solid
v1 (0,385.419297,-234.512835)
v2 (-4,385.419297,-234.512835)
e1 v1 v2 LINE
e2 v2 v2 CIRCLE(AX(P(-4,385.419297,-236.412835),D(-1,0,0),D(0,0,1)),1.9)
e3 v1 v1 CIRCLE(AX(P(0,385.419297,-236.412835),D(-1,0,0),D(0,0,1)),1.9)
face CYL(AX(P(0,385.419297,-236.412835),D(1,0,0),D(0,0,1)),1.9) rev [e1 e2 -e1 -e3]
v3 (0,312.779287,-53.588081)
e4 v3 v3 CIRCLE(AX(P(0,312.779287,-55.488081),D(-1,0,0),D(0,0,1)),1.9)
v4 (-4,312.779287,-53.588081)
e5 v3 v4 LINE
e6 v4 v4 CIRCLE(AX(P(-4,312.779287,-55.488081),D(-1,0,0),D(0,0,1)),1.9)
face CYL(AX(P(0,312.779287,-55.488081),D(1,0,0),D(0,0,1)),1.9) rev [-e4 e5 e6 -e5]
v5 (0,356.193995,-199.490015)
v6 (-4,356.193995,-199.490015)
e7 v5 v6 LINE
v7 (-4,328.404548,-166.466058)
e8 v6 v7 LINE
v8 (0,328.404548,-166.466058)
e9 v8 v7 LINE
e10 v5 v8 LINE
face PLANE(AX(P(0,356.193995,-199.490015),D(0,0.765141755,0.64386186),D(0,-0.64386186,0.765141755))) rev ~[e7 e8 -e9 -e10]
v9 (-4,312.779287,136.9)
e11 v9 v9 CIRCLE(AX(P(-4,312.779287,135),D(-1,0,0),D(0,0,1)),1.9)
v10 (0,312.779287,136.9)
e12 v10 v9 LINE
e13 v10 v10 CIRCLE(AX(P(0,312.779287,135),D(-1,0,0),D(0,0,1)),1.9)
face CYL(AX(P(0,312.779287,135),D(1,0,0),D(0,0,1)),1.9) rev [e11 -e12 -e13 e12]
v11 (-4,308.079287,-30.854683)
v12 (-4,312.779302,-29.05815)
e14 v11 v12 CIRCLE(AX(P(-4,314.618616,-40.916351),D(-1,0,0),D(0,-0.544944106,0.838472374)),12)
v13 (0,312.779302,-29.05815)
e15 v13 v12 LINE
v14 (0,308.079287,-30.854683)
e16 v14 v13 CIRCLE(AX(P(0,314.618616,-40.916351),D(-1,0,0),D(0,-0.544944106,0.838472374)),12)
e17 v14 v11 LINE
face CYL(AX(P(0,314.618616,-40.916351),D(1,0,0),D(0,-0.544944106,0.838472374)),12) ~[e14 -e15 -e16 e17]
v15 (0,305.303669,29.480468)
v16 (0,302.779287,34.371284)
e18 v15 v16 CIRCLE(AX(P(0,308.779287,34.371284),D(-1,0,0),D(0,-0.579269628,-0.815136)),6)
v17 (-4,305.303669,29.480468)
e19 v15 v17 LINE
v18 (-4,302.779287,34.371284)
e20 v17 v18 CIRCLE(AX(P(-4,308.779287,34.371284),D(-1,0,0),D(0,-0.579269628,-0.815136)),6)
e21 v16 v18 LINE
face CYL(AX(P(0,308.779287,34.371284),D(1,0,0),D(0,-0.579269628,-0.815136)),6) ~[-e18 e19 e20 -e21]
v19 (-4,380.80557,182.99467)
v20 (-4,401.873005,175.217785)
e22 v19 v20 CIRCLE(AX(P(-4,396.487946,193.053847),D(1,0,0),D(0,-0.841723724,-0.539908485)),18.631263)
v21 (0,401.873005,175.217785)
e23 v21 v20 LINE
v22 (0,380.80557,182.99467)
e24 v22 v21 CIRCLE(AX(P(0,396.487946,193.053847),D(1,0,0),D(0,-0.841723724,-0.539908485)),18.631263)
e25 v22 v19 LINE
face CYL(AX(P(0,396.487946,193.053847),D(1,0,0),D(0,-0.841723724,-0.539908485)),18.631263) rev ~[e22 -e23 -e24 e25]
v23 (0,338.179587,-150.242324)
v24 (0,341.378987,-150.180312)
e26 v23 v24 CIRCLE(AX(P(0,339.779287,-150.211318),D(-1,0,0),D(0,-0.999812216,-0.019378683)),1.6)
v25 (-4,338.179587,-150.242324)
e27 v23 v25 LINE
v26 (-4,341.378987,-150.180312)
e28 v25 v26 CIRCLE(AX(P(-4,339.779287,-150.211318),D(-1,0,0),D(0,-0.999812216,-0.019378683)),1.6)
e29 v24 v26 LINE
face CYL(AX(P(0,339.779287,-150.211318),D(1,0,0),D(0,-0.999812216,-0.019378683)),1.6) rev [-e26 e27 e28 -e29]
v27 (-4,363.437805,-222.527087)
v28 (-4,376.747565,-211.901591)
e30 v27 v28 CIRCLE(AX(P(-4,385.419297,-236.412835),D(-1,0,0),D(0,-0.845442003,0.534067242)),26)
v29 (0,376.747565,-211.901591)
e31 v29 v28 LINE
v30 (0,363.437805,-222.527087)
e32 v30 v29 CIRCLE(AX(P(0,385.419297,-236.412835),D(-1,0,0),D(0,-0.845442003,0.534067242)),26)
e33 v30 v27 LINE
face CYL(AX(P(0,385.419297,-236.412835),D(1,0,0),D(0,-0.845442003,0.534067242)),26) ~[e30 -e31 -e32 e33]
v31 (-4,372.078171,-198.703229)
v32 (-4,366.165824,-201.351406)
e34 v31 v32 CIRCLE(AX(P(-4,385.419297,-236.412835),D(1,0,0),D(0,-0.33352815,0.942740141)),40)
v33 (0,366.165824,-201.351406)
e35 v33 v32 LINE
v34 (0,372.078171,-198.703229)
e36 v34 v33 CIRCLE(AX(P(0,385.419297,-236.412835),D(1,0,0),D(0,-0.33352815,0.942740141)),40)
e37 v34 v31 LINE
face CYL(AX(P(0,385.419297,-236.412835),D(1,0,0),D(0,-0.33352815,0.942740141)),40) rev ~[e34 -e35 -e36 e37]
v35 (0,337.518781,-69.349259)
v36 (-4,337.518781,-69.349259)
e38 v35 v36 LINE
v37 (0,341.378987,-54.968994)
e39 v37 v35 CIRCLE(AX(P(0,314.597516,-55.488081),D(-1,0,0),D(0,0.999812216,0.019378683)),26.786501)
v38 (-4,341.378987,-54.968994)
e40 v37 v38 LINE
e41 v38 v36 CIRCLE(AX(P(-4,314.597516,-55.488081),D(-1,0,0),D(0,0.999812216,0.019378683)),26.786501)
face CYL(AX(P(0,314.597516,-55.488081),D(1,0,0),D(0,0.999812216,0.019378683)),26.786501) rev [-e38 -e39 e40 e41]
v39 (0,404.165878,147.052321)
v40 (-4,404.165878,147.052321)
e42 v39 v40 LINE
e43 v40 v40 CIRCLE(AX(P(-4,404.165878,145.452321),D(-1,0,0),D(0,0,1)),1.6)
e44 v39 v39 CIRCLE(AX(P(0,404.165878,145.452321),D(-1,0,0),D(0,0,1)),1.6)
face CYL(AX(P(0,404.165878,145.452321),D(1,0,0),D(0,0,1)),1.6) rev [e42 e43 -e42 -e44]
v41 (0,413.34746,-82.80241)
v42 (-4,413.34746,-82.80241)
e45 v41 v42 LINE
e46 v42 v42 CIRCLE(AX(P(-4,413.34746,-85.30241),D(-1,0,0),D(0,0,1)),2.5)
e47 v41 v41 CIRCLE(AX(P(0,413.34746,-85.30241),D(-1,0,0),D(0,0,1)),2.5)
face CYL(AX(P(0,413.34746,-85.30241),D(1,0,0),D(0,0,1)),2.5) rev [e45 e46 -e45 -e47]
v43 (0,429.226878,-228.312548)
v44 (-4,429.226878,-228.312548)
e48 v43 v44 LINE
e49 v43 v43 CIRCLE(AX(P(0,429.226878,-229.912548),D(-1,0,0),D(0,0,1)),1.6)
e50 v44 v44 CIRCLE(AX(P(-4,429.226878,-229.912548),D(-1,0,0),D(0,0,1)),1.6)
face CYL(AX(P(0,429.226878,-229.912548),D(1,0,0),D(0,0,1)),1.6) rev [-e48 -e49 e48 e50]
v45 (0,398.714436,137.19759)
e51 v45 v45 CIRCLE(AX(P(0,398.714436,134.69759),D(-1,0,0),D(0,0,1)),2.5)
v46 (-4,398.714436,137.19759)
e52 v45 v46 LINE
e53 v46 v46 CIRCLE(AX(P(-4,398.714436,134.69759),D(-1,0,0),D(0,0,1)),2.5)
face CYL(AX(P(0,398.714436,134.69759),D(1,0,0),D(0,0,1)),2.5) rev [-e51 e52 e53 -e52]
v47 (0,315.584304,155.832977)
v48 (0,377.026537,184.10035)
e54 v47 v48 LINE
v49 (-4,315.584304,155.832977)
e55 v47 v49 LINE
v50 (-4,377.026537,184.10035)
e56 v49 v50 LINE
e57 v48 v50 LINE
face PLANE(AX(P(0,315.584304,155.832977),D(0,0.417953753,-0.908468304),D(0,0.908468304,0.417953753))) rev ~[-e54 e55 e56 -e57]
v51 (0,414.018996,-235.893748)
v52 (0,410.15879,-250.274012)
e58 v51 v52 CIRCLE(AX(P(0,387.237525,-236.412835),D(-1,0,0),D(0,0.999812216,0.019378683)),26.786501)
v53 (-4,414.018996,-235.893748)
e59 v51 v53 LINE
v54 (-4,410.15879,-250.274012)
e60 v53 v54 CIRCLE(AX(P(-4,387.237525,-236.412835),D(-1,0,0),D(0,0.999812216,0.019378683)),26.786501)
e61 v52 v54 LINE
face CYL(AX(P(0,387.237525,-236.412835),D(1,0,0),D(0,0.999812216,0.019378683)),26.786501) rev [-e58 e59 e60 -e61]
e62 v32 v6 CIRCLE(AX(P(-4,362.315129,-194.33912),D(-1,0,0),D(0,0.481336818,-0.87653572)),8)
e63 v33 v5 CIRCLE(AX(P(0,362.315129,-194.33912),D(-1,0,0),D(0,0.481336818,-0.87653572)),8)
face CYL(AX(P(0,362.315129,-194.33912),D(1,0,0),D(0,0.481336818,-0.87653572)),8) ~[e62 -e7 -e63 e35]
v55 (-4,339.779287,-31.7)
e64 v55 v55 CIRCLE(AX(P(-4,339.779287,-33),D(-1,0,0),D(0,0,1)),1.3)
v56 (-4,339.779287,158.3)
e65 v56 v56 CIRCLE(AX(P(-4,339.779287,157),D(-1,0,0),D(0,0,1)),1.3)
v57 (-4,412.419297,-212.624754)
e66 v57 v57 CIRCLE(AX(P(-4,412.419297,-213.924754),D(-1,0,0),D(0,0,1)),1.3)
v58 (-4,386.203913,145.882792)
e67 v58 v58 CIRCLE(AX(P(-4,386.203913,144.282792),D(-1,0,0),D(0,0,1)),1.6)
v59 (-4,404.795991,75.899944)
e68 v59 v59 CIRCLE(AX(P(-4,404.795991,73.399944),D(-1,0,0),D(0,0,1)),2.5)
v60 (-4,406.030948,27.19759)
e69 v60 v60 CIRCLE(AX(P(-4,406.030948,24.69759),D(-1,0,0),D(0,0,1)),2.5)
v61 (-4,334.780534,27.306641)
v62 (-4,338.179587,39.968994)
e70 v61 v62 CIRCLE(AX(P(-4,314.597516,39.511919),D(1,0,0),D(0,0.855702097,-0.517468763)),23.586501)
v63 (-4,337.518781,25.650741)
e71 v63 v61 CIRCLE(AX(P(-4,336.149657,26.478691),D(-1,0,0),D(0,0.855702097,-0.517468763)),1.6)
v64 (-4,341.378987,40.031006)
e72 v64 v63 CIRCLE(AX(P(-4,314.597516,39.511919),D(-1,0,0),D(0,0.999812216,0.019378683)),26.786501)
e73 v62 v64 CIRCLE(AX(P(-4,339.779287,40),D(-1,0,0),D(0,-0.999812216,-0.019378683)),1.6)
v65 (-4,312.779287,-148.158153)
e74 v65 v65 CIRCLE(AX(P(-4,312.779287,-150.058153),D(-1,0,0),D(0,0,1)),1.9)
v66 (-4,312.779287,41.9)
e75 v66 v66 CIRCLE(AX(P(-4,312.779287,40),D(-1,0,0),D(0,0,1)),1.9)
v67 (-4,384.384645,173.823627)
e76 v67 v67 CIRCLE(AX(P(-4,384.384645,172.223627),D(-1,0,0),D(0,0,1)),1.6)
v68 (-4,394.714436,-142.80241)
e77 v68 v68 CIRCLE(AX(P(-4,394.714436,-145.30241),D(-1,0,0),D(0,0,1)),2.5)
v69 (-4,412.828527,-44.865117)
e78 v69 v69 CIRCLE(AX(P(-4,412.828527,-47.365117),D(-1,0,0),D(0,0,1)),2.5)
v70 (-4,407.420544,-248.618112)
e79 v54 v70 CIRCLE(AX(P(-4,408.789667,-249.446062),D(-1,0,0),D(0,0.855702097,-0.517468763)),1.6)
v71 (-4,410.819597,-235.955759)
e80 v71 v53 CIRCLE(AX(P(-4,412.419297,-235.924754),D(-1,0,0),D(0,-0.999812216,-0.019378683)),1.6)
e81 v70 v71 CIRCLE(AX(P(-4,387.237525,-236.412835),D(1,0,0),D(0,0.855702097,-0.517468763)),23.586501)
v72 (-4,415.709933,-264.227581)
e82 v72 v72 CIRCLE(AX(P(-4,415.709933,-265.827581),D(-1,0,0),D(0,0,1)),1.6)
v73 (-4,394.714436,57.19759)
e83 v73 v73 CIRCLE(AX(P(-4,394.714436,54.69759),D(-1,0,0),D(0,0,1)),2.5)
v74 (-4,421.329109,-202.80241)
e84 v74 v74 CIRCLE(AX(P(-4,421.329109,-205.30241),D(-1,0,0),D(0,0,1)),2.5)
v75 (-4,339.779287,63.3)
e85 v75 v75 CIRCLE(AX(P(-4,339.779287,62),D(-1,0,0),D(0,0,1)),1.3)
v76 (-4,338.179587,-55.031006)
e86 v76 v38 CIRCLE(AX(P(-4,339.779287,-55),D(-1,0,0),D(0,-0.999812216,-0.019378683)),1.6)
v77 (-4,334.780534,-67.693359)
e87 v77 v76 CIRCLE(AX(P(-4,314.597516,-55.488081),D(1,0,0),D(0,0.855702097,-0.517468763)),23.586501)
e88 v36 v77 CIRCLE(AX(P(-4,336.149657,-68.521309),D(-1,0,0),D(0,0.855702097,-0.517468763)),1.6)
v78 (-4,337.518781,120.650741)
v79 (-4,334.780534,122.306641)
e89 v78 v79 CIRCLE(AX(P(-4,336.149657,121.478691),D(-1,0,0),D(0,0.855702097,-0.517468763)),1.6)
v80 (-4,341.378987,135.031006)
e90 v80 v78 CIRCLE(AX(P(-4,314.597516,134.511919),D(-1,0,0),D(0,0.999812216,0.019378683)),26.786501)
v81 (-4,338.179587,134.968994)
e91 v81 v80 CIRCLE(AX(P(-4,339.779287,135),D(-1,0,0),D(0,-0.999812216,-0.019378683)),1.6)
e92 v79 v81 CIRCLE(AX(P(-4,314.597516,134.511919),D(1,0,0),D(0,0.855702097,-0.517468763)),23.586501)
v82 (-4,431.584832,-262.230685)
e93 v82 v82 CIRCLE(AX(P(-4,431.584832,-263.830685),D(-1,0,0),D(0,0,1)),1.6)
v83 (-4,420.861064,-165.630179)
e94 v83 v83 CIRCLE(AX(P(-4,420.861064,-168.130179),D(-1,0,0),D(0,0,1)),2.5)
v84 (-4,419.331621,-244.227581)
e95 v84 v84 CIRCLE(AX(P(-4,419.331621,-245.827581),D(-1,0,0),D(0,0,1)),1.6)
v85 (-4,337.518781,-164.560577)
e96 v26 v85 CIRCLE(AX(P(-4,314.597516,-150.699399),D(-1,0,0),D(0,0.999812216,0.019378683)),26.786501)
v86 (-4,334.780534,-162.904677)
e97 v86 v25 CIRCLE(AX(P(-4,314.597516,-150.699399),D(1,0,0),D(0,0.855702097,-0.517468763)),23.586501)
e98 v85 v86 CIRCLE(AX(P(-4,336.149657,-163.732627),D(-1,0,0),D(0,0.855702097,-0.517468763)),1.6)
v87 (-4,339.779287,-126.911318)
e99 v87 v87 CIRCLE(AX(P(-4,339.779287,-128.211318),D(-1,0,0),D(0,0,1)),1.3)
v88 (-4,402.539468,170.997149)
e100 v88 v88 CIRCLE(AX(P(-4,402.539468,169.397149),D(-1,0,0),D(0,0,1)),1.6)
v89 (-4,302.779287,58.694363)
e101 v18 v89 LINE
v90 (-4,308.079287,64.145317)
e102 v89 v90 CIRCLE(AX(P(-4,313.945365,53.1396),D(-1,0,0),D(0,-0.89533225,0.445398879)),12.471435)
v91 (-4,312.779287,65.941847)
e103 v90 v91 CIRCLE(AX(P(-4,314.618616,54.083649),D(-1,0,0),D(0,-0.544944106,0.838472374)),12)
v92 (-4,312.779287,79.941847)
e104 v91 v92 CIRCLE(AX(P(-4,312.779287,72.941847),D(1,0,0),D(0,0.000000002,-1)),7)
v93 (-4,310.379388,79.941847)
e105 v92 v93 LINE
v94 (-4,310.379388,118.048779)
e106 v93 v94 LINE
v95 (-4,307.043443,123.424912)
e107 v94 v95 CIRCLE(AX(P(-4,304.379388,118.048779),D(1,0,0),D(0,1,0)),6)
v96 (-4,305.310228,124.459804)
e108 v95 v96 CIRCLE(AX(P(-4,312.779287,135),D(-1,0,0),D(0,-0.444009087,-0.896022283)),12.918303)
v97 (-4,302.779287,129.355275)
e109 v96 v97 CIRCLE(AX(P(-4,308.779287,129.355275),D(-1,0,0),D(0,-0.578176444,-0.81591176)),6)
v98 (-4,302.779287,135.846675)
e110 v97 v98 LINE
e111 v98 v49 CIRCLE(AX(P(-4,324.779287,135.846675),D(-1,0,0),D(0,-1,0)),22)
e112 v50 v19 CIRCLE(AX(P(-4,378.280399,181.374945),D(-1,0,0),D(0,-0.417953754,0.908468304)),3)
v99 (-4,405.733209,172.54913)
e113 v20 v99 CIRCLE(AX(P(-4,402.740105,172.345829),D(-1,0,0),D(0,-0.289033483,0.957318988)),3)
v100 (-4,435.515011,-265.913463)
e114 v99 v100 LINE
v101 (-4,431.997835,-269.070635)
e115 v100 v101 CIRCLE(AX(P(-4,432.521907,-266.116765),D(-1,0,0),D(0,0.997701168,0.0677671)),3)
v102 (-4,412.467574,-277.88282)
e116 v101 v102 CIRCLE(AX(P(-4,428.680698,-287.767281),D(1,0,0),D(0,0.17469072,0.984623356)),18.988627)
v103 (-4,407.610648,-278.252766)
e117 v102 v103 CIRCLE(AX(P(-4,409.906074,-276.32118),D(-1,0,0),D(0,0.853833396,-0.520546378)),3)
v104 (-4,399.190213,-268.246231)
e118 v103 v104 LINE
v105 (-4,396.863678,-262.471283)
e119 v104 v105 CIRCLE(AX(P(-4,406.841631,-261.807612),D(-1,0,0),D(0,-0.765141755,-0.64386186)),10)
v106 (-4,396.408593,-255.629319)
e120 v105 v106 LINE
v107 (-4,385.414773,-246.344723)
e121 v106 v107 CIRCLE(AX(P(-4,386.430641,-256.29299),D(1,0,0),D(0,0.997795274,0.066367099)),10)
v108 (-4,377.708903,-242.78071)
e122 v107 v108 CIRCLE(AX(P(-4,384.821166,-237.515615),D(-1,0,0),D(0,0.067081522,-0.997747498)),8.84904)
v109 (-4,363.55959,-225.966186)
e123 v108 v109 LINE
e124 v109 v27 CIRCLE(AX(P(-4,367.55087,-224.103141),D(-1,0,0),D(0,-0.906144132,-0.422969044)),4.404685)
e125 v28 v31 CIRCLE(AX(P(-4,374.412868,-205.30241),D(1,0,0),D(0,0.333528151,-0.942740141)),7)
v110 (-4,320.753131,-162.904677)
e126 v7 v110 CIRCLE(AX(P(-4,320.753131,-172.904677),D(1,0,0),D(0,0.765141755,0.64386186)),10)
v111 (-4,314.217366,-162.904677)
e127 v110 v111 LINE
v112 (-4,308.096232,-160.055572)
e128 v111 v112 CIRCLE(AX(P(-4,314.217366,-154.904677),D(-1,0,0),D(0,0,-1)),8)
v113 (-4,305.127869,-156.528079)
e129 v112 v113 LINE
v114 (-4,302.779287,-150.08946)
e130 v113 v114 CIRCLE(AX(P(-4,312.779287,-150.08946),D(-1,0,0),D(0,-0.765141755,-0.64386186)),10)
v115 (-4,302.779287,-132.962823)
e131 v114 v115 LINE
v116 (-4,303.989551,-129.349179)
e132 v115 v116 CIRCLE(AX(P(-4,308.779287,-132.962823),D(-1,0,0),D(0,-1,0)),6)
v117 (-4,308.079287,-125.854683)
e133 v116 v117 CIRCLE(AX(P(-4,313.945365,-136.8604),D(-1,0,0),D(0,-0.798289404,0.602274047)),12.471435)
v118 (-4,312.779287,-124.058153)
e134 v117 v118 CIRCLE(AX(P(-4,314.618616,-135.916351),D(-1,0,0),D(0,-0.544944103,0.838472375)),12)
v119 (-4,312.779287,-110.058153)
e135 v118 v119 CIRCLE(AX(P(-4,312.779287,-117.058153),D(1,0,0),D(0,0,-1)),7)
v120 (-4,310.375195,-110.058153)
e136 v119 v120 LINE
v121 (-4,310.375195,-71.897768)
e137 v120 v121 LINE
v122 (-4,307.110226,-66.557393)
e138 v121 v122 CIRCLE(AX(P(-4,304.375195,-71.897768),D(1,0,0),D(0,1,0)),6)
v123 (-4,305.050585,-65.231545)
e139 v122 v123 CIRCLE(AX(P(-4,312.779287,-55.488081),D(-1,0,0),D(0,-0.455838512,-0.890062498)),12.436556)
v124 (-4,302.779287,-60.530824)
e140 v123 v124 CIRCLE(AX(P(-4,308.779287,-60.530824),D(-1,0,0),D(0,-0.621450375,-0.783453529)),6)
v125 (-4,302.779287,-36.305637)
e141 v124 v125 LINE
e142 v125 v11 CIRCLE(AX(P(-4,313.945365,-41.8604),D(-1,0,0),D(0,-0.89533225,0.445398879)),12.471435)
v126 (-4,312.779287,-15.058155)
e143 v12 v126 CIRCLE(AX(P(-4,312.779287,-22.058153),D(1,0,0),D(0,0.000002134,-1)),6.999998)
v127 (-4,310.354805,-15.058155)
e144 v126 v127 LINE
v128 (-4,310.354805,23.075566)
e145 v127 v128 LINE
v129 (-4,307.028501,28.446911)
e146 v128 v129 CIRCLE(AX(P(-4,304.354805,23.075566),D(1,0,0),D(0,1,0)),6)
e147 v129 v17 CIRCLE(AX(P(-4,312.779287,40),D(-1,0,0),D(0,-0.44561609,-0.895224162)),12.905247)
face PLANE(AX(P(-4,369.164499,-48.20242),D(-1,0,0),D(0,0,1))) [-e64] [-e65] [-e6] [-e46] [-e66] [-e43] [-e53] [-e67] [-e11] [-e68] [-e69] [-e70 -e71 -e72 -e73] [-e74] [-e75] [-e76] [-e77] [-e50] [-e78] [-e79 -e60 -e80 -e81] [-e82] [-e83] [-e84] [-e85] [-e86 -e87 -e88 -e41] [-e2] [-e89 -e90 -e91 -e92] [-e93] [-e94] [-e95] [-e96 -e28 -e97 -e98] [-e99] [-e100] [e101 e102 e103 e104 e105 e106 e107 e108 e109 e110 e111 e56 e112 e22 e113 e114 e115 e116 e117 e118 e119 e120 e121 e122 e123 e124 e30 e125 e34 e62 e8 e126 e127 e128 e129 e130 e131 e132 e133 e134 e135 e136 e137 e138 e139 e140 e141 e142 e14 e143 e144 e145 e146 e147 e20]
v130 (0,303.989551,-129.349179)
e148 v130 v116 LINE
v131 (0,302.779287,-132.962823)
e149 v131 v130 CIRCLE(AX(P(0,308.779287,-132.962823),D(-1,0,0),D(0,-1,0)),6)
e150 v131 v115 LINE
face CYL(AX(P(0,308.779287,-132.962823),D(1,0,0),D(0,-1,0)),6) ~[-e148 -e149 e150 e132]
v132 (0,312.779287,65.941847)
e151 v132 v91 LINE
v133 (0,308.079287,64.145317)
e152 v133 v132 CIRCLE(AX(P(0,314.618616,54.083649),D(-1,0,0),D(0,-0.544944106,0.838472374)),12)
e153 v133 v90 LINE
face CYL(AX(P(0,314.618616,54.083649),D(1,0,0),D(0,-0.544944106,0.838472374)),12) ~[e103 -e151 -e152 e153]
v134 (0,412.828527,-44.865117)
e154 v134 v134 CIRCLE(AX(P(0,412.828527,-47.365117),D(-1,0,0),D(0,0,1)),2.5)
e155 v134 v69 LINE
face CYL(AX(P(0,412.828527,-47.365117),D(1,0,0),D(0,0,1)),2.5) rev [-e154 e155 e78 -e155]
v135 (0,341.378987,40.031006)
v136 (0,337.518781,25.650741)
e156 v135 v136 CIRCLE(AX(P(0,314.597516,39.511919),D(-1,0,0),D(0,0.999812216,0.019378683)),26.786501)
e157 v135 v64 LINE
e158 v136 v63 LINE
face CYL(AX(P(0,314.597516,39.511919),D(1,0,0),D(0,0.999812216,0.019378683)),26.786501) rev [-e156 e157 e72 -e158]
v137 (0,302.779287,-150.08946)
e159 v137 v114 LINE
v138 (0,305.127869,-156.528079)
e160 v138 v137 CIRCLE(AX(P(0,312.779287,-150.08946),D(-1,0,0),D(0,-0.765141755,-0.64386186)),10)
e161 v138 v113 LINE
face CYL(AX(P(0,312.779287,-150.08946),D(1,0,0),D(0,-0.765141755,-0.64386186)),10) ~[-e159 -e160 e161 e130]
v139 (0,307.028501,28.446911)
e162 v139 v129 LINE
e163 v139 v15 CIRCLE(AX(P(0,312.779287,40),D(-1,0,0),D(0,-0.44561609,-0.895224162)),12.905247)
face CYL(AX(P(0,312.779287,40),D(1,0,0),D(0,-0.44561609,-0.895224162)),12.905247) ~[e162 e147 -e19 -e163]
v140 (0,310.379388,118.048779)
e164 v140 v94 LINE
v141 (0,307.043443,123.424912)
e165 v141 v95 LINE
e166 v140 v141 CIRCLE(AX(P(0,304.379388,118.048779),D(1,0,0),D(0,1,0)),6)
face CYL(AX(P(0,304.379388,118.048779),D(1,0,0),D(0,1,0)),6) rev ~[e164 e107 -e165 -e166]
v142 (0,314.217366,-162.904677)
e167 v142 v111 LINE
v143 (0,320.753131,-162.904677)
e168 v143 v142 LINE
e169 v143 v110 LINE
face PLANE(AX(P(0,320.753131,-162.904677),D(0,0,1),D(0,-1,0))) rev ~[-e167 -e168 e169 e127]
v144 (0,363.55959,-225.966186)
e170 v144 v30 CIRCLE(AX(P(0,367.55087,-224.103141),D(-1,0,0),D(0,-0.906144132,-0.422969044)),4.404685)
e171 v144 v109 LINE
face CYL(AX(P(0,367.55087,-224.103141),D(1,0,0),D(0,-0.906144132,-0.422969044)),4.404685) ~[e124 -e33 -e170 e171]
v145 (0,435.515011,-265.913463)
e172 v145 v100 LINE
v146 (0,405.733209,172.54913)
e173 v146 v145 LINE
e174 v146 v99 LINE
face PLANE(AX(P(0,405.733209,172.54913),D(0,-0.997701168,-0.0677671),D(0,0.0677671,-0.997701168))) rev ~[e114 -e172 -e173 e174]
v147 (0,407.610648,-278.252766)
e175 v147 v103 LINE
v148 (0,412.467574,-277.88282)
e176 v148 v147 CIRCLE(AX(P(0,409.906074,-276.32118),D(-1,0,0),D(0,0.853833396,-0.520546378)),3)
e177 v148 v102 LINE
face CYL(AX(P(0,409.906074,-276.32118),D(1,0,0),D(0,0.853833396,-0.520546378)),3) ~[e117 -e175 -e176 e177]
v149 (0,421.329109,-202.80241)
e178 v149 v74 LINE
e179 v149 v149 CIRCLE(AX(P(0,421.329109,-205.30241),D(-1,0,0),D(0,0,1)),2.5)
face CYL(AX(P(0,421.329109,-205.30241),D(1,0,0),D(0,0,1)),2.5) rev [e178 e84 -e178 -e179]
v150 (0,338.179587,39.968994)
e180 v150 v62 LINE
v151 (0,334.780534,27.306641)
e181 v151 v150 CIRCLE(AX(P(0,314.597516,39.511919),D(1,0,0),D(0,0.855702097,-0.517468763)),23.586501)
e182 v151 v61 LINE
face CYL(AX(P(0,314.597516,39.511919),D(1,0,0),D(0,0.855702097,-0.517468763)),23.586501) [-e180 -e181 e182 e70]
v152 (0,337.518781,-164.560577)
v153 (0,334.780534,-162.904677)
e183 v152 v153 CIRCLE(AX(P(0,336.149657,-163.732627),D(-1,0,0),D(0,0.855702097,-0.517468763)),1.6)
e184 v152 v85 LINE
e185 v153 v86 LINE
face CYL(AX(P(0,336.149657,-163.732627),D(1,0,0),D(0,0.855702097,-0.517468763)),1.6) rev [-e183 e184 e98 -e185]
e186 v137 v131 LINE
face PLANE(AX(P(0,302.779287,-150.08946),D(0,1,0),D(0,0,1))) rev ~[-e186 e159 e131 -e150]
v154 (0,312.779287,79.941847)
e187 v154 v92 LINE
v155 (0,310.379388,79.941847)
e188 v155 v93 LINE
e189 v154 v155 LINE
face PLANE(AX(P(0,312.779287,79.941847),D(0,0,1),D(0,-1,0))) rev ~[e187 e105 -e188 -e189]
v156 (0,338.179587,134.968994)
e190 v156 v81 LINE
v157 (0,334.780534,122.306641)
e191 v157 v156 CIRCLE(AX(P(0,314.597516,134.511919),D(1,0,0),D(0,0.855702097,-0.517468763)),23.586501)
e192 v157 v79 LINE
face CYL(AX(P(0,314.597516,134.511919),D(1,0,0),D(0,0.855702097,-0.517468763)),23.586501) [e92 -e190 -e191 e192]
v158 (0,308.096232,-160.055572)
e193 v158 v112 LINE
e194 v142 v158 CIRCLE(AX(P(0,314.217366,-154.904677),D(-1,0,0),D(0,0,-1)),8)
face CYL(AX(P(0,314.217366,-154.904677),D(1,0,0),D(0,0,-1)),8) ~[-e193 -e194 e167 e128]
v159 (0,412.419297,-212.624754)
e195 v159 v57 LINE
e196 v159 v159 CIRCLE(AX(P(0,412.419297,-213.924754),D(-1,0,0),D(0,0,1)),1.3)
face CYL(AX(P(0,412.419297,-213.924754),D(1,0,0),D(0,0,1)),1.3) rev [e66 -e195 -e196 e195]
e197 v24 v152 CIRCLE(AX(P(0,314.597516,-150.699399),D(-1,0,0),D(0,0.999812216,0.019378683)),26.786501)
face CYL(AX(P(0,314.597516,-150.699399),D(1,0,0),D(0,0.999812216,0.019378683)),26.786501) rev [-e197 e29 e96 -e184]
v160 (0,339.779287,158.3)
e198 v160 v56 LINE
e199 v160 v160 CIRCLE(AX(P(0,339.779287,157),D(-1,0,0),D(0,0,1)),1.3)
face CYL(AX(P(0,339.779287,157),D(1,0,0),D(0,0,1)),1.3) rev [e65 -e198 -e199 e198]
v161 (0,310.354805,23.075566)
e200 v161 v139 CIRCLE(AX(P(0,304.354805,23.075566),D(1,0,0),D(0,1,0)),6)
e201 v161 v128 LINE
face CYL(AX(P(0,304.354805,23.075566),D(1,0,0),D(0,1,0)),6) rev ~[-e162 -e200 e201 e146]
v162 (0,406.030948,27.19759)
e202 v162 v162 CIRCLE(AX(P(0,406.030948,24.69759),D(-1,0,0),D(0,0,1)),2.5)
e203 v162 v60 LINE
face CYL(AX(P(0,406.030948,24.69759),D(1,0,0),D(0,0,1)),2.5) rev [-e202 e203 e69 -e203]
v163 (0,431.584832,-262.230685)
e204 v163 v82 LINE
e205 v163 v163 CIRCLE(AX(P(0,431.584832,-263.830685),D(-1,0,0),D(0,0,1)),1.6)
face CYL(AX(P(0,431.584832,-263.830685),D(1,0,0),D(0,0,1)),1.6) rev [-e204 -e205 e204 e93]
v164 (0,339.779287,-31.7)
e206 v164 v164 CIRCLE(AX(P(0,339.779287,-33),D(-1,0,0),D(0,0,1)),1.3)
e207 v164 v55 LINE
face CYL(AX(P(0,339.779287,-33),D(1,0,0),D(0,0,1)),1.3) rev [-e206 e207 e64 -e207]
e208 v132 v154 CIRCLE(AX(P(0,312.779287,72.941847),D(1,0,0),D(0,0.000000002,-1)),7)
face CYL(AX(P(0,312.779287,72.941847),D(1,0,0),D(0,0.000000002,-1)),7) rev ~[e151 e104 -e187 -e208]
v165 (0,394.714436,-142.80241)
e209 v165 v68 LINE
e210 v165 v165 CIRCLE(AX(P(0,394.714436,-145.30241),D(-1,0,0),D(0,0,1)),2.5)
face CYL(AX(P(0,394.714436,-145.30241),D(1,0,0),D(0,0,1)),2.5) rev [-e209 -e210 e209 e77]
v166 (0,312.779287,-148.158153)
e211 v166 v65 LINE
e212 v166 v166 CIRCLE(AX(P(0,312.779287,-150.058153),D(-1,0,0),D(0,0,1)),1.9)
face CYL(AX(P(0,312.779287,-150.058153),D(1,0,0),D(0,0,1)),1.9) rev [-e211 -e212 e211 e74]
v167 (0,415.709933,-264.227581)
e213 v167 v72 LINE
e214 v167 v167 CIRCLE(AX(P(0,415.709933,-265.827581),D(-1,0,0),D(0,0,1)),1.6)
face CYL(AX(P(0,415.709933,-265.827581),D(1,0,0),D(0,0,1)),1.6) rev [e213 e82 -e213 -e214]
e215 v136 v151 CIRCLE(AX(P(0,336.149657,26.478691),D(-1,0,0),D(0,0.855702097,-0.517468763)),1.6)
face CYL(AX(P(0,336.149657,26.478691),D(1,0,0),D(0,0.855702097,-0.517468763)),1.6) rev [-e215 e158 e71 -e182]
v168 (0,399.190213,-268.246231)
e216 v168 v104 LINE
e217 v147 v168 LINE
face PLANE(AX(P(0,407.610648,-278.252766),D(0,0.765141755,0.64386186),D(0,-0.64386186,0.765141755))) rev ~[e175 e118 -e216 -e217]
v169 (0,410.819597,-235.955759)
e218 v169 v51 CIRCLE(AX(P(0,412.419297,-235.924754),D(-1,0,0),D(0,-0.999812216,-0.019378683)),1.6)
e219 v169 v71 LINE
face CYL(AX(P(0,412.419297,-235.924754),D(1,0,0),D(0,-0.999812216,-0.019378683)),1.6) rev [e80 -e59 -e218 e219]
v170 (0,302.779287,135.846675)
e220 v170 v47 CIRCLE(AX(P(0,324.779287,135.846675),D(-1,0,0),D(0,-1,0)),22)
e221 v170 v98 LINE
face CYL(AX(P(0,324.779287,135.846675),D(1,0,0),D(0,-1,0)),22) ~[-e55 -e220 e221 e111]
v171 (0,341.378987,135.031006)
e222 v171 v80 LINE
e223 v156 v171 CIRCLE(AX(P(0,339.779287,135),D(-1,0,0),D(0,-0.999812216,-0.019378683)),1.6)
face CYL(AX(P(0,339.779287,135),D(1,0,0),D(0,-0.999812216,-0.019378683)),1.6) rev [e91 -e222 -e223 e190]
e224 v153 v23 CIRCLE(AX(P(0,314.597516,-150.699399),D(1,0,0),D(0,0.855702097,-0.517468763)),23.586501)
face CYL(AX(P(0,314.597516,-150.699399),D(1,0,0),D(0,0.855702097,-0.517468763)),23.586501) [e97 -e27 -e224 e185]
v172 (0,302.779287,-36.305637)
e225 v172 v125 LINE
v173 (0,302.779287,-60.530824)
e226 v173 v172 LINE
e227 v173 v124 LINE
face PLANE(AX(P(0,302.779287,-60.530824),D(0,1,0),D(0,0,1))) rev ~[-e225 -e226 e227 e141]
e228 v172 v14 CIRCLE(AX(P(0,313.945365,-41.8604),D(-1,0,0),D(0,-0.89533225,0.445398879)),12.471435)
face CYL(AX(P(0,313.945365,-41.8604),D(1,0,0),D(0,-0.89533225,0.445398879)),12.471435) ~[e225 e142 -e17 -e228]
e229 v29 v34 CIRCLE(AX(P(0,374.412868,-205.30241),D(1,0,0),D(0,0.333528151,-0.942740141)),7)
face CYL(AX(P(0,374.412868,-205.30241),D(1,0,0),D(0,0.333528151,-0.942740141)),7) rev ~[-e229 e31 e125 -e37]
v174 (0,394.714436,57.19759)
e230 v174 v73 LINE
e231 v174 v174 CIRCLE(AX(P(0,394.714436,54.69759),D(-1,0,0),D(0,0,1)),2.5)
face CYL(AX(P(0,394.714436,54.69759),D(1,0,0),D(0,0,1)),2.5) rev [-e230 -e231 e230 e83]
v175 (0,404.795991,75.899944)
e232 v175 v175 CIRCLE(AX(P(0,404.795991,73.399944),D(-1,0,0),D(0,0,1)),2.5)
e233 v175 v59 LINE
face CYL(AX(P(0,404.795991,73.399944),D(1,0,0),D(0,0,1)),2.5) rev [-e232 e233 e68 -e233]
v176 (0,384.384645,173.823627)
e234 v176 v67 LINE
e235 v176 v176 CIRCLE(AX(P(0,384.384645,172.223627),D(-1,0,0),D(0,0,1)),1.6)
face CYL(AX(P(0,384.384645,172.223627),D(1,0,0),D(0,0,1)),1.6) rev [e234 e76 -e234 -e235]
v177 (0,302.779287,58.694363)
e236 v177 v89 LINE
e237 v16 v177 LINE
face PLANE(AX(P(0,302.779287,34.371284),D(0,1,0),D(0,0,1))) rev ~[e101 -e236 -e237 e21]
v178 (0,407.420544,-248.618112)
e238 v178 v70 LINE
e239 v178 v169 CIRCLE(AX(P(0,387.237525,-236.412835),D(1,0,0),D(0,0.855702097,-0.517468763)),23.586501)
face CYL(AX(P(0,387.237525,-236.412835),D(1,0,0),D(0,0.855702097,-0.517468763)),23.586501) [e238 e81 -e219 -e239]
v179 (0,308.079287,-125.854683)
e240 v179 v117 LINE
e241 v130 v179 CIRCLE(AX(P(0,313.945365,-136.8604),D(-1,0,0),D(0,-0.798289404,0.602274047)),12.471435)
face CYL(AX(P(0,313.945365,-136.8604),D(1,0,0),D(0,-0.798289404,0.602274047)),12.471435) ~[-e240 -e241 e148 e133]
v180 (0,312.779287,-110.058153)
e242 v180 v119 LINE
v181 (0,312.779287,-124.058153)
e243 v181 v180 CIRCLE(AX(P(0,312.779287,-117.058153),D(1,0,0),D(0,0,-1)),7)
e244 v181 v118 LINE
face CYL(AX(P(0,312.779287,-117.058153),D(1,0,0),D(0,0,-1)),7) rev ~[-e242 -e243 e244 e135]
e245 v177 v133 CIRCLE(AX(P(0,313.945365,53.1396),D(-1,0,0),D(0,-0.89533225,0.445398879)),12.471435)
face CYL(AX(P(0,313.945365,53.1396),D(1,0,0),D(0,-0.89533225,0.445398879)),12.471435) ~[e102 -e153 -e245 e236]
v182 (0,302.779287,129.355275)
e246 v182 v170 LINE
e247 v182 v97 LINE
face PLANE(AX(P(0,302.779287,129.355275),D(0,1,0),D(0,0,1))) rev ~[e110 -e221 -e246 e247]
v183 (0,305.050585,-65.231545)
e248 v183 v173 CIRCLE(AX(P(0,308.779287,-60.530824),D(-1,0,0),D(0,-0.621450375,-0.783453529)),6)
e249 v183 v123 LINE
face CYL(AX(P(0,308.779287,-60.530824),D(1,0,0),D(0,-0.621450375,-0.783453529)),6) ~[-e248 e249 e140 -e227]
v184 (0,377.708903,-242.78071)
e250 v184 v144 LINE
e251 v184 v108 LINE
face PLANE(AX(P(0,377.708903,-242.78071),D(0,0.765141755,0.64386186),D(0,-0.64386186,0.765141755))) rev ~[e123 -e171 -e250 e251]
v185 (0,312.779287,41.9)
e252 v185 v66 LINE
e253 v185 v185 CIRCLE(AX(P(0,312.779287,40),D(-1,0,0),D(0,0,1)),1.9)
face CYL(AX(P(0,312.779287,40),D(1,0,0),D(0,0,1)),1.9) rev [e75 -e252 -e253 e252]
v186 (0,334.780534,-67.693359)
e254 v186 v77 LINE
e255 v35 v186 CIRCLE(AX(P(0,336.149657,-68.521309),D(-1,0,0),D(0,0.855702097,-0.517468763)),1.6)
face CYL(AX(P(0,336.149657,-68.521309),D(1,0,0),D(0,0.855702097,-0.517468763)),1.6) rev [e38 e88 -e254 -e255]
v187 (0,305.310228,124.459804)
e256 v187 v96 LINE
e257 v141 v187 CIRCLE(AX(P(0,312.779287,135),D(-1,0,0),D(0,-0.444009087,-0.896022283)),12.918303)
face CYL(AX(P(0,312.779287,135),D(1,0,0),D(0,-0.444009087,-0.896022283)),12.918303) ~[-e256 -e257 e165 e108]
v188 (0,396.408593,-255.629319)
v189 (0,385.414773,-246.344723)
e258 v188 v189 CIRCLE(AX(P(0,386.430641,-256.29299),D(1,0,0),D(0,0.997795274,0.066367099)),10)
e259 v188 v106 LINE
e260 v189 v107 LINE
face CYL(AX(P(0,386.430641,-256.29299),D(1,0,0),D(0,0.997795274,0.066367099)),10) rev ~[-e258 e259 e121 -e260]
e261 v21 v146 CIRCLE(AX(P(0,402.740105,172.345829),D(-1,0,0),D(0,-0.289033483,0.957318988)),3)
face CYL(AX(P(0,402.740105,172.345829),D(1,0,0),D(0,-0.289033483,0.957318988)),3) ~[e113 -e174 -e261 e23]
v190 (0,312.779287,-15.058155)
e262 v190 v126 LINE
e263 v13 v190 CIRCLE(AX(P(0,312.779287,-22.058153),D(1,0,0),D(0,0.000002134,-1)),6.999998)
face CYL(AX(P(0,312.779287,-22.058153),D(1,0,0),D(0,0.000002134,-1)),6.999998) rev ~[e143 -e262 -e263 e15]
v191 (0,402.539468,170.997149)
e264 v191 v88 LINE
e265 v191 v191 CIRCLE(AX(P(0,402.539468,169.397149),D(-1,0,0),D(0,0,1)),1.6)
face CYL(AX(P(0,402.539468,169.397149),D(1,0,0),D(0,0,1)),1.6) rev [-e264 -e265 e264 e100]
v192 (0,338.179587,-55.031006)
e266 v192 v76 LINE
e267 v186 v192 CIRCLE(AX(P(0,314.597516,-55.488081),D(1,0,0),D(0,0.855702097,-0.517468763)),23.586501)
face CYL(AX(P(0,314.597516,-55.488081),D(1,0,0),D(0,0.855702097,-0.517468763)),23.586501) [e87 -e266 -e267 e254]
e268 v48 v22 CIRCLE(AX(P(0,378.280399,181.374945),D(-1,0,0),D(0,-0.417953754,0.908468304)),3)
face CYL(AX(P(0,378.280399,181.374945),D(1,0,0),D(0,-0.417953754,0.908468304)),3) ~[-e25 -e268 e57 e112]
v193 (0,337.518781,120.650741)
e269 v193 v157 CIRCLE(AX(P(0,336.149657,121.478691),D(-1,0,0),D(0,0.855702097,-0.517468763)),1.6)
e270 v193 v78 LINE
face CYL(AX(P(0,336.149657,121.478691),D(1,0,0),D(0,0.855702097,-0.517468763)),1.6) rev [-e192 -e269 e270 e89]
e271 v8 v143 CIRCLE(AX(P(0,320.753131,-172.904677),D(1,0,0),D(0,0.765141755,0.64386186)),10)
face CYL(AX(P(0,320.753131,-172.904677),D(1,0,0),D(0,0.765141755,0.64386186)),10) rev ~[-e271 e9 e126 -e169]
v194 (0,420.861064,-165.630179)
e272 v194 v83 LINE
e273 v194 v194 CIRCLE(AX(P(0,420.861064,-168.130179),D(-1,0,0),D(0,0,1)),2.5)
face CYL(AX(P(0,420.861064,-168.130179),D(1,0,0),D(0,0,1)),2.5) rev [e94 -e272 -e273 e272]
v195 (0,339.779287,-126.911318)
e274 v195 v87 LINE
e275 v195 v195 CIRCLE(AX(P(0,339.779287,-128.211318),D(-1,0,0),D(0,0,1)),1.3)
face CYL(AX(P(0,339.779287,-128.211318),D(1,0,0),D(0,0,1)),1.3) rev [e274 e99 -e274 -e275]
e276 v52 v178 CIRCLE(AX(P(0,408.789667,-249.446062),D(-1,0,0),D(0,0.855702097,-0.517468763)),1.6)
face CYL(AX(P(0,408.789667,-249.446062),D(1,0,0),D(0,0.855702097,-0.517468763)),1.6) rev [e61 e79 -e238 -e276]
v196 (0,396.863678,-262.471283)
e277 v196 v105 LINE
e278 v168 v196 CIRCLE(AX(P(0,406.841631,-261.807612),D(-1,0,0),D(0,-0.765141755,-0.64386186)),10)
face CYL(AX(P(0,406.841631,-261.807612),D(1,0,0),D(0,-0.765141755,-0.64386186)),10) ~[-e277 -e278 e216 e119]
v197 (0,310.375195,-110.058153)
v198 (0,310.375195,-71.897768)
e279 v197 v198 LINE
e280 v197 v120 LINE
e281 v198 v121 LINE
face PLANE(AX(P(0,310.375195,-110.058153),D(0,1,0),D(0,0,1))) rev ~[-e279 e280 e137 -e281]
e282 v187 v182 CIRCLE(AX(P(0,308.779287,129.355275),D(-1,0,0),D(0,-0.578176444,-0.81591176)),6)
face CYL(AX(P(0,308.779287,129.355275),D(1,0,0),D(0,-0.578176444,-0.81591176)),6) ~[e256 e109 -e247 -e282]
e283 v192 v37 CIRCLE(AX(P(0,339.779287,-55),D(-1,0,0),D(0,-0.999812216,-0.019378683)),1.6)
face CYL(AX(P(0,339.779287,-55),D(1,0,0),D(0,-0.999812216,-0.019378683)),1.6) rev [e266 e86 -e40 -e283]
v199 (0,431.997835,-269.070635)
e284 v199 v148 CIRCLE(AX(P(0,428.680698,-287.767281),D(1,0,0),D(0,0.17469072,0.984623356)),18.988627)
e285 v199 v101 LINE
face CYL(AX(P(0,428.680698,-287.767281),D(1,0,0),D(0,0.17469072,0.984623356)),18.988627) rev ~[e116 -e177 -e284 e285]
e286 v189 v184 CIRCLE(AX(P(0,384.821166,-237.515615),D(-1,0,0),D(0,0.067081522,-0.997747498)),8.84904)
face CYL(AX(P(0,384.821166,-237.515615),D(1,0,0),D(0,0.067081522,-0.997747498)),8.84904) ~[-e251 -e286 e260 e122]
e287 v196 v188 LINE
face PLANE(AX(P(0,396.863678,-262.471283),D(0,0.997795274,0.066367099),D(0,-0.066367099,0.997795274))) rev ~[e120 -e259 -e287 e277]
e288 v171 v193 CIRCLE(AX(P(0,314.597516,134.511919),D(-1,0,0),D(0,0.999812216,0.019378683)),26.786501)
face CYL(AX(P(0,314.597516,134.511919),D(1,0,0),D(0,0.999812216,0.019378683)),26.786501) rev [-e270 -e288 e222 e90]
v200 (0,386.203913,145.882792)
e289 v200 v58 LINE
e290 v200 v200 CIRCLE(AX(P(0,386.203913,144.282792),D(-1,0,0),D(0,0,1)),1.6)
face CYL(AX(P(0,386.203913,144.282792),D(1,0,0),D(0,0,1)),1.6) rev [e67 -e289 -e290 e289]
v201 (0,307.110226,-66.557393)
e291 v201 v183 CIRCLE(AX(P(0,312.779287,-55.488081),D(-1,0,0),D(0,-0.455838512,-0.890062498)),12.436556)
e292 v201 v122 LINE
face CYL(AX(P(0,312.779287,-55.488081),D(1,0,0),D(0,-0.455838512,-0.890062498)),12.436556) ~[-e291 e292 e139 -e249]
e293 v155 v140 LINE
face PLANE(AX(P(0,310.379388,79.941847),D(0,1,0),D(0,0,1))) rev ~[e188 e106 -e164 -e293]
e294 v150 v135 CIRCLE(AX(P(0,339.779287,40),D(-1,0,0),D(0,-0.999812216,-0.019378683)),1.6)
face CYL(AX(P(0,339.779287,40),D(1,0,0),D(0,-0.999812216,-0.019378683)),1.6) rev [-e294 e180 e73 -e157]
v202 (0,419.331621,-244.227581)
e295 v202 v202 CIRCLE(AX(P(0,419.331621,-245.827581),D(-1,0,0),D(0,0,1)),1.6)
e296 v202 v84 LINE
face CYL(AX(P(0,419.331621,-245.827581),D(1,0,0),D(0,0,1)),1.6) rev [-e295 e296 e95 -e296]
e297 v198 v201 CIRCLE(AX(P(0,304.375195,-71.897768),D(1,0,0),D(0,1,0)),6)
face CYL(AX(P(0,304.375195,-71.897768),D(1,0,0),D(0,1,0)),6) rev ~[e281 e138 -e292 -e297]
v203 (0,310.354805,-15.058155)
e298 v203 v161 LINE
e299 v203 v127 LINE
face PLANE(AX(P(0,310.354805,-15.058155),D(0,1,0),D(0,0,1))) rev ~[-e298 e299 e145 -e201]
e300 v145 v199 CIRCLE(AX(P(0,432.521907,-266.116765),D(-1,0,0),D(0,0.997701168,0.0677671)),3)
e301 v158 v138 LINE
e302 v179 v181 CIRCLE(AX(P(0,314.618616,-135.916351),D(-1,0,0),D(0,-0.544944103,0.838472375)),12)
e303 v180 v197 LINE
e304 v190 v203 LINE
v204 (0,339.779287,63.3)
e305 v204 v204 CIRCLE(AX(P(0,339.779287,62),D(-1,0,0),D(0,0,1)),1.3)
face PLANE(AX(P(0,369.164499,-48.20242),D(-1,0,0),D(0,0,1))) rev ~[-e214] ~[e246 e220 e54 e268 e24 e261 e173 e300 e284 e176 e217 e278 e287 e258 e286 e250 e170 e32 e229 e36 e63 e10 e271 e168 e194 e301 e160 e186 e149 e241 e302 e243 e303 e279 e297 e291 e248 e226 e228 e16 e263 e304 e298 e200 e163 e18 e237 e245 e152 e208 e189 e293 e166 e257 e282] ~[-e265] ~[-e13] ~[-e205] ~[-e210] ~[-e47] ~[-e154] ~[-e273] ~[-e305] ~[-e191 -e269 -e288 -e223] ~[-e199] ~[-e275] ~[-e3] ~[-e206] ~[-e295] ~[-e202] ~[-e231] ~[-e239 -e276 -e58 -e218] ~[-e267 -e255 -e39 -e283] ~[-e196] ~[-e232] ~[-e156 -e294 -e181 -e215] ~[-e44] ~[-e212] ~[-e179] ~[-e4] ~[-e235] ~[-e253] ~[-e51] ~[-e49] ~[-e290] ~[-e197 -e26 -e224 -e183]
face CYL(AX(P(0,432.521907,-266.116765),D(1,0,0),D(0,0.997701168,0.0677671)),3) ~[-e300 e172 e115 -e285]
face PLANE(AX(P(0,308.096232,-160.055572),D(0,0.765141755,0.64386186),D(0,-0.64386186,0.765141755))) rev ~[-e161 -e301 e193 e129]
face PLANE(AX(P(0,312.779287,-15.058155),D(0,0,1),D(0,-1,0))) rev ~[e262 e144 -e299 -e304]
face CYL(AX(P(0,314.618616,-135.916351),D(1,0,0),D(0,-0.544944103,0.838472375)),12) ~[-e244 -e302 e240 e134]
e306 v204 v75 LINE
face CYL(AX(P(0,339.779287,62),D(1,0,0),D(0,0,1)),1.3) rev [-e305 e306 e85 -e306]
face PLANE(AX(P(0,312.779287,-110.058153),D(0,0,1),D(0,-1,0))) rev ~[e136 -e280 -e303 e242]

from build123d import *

# Parameters (mm, degrees)
SKETCH_1_R      = 2.5
SKETCH_1_R_2    = 1.6
SKETCH_1_R_3    = 1.3
SKETCH_1_R_4    = 1.9
EXTRUDE_1_DEPTH = 4


with BuildPart() as part:
    # 草图1 → 凸台-拉伸1 (new body)
    with BuildSketch(Plane.ZY):
        with BuildLine():
            Line((79.941847196, 312.779286974), (79.941847196, 310.37938842))
            Line((79.941847196, 310.37938842), (118.048778684, 310.37938842))
            ThreePointArc((118.048778684, 310.37938842), (121.212295154, 309.477639448), (123.424912382, 307.043442935))
            ThreePointArc((123.424912382, 307.043442935), (123.908451597, 306.156590075), (124.459804418, 305.310228312))
            ThreePointArc((124.459804418, 305.310228312), (126.599767036, 303.449448704), (129.355274977, 302.779286974))
            Line((129.355274977, 302.779286974), (135.846674735, 302.779286974))
            ThreePointArc((135.846674735, 302.779286974), (147.714917725, 306.255118752), (155.832977431, 315.5843044))
            Line((155.832977431, 315.5843044), (184.100349844, 377.02653737))
            ThreePointArc((184.100349844, 377.02653737), (184.25423495, 379.122829036), (182.994670387, 380.805569803))
            ThreePointArc((182.994670387, 380.805569803), (175.575423742, 390.035917566), (175.217785471, 401.873004854))
            ThreePointArc((175.217785471, 401.873004854), (174.813539386, 404.446095635), (172.549129806, 405.733208807))
            Line((172.549129806, 405.733208807), (-265.913463366, 435.515010668))
            ThreePointArc((-265.913463366, 435.515010668), (-268.349260645, 434.525893618), (-269.070634733, 431.997835004))
            ThreePointArc((-269.070634733, 431.997835004), (-270.458967767, 420.871071163), (-277.882819523, 412.467573839))
            ThreePointArc((-277.882819523, 412.467573839), (-279.312515533, 410.13392022), (-278.252765969, 407.610648385))
            Line((-278.252765969, 407.610648385), (-268.246230566, 399.190213281))
            ThreePointArc((-268.246230566, 399.190213281), (-265.544431584, 397.566061892), (-262.471282959, 396.863678095))
            Line((-262.471282959, 396.863678095), (-255.629318556, 396.408593428))
            ThreePointArc((-255.629318556, 396.408593428), (-248.6530075, 392.882824378), (-246.344722675, 385.41477346))
            ThreePointArc((-246.344722675, 385.41477346), (-245.547224173, 381.106497376), (-242.780709967, 377.708903254))
            Line((-242.780709967, 377.708903254), (-225.96618646, 363.559589999))
            ThreePointArc((-225.96618646, 363.559589999), (-224.259021966, 363.148943594), (-222.527086507, 363.437804541))
            ThreePointArc((-222.527086507, 363.437804541), (-216.093640019, 369.198004343), (-211.901591148, 376.74756471))
            ThreePointArc((-211.901591148, 376.74756471), (-202.96771311, 381.012048641), (-198.703229179, 372.078170603))
            ThreePointArc((-198.703229179, 372.078170603), (-199.907426668, 369.068297365), (-201.351406018, 366.165823913))
            ThreePointArc((-201.351406018, 366.165823913), (-202.203284687, 360.847165515), (-199.49001514, 356.193995329))
            Line((-199.49001514, 356.193995329), (-166.466058225, 328.404548243))
            ThreePointArc((-166.466058225, 328.404548243), (-163.838636178, 324.972953793), (-162.904676824, 320.753130691))
            Line((-162.904676824, 320.753130691), (-162.904676824, 314.217366152))
            ThreePointArc((-162.904676824, 314.217366152), (-162.15750934, 310.841507671), (-160.055571702, 308.096232111))
            Line((-160.055571702, 308.096232111), (-156.52807865, 305.127869423))
            ThreePointArc((-156.52807865, 305.127869423), (-153.516253341, 303.384762625), (-150.089460052, 302.779286974))
            Line((-150.089460052, 302.779286974), (-132.962822931, 302.779286974))
            ThreePointArc((-132.962822931, 302.779286974), (-131.057359543, 303.089892518), (-129.349178653, 303.989550548))
            ThreePointArc((-129.349178653, 303.989550548), (-127.378799895, 305.843763559), (-125.854682643, 308.079286974))
            ThreePointArc((-125.854682643, 308.079286974), (-124.70730834, 310.334067306), (-124.058152804, 312.779286974))
            ThreePointArc((-124.058152804, 312.779286974), (-117.058152804, 319.779286974), (-110.058152804, 312.779286974))
            Line((-110.058152804, 312.779286974), (-110.058152804, 310.375194841))
            Line((-110.058152804, 310.375194841), (-71.897768127, 310.375194841))
            ThreePointArc((-71.897768127, 310.375194841), (-68.768086545, 309.494285893), (-66.557393134, 307.110225907))
            ThreePointArc((-66.557393134, 307.110225907), (-65.945300527, 306.047683601), (-65.231544729, 305.050584724))
            ThreePointArc((-65.231544729, 305.050584724), (-63.141167069, 303.376870223), (-60.530823557, 302.779286974))
            Line((-60.530823557, 302.779286974), (-36.305637158, 302.779286974))
            ThreePointArc((-36.305637158, 302.779286974), (-33.16644373, 305.003787341), (-30.854682657, 308.079286974))
            ThreePointArc((-30.854682657, 308.079286974), (-29.707305648, 310.334074366), (-29.058150487, 312.779301913))
            ThreePointArc((-29.058150487, 312.779301913), (-22.058145334, 319.779284657), (-15.058155121, 312.779286974))
            Line((-15.058155121, 312.779286974), (-15.058155121, 310.354804619))
            Line((-15.058155121, 310.354804619), (23.075565874, 310.354804619))
            ThreePointArc((23.075565874, 310.354804619), (26.234507213, 309.455891721), (28.446910847, 307.028501158))
            ThreePointArc((28.446910847, 307.028501158), (28.930044794, 306.145924462), (29.48046838, 305.303669209))
            ThreePointArc((29.48046838, 305.303669209), (31.619349297, 303.447603066), (34.37128438, 302.779286974))
            Line((34.37128438, 302.779286974), (58.694362842, 302.779286974))
            ThreePointArc((58.694362842, 302.779286974), (61.833556273, 305.00378734), (64.14531735, 308.079286974))
            ThreePointArc((64.14531735, 308.079286974), (65.292691668, 310.334067319), (65.941847214, 312.779287004))
            ThreePointArc((65.941847214, 312.779287004), (72.94184722, 319.77928698), (79.941847196, 312.779286974))
        make_face()
        with Locations((134.697589837, 398.714435962)):
            Circle(SKETCH_1_R, mode=Mode.SUBTRACT)
        with Locations((-205.302410163, 421.329108832)):
            Circle(SKETCH_1_R, mode=Mode.SUBTRACT)
        with Locations((24.697589837, 406.030947773)):
            Circle(SKETCH_1_R, mode=Mode.SUBTRACT)
        with Locations((54.697589837, 394.714435962)):
            Circle(SKETCH_1_R, mode=Mode.SUBTRACT)
        with Locations((-145.302410163, 394.714435962)):
            Circle(SKETCH_1_R, mode=Mode.SUBTRACT)
        with Locations((-85.302410163, 413.347459584)):
            Circle(SKETCH_1_R, mode=Mode.SUBTRACT)
        with Locations((-229.912547558, 429.226877683)):
            Circle(SKETCH_1_R_2, mode=Mode.SUBTRACT)
        with Locations((-263.830685058, 431.584832)):
            Circle(SKETCH_1_R_2, mode=Mode.SUBTRACT)
        with Locations((-245.82758059, 419.331621378)):
            Circle(SKETCH_1_R_2, mode=Mode.SUBTRACT)
        with Locations((-213.924753581, 412.419296618)):
            Circle(SKETCH_1_R_3, mode=Mode.SUBTRACT)
        with Locations((-265.82758059, 415.709933316)):
            Circle(SKETCH_1_R_2, mode=Mode.SUBTRACT)
        with Locations((145.452321386, 404.165877908)):
            Circle(SKETCH_1_R_2, mode=Mode.SUBTRACT)
        with Locations((172.223627163, 384.384644706)):
            Circle(SKETCH_1_R_2, mode=Mode.SUBTRACT)
        with Locations((169.397149412, 402.539467503)):
            Circle(SKETCH_1_R_2, mode=Mode.SUBTRACT)
        with Locations((144.282792088, 386.203912503)):
            Circle(SKETCH_1_R_2, mode=Mode.SUBTRACT)
        with Locations((-236.412834805, 385.419296624)):
            Circle(SKETCH_1_R_4, mode=Mode.SUBTRACT)
        with Locations((-128.211318153, 339.779286974)):
            Circle(SKETCH_1_R_3, mode=Mode.SUBTRACT)
        with Locations((62, 339.779286968)):
            Circle(SKETCH_1_R_3, mode=Mode.SUBTRACT)
        with Locations((40, 312.779286974)):
            Circle(SKETCH_1_R_4, mode=Mode.SUBTRACT)
        with Locations((-47.3651173, 412.828527404)):
            Circle(SKETCH_1_R, mode=Mode.SUBTRACT)
        with Locations((-55.488081224, 312.779286974)):
            Circle(SKETCH_1_R_4, mode=Mode.SUBTRACT)
        with Locations((-33, 339.779286968)):
            Circle(SKETCH_1_R_3, mode=Mode.SUBTRACT)
        with Locations((-168.130178692, 420.86106375)):
            Circle(SKETCH_1_R, mode=Mode.SUBTRACT)
        with Locations((73.399944092, 404.795991058)):
            Circle(SKETCH_1_R, mode=Mode.SUBTRACT)
        with Locations((157, 339.779286968)):
            Circle(SKETCH_1_R_3, mode=Mode.SUBTRACT)
        with Locations((-150.058152804, 312.779286974)):
            Circle(SKETCH_1_R_4, mode=Mode.SUBTRACT)
        with Locations((135, 312.779286974)):
            Circle(SKETCH_1_R_4, mode=Mode.SUBTRACT)
        with BuildLine():
            ThreePointArc((-235.893747688, 414.018996163), (-243.357483185, 413.10813588), (-250.274012295, 410.158790343))
            ThreePointArc((-250.274012295, 410.158790343), (-250.815185629, 407.961716967), (-248.618112252, 407.420543633))
            ThreePointArc((-248.618112252, 407.420543633), (-242.527853555, 410.017551036), (-235.955759474, 410.819597073))
            ThreePointArc((-235.955759474, 410.819597073), (-234.325054036, 412.388290724), (-235.893747688, 414.018996163))
        make_face(mode=Mode.SUBTRACT)
        with BuildLine():
            ThreePointArc((-54.968994107, 341.378986513), (-62.432729604, 340.468126231), (-69.349258714, 337.518780694))
            ThreePointArc((-69.349258714, 337.518780694), (-69.890432048, 335.321707317), (-67.693358671, 334.780533983))
            ThreePointArc((-67.693358671, 334.780533983), (-61.603099974, 337.377541387), (-55.031005893, 338.179587423))
            ThreePointArc((-55.031005893, 338.179587423), (-53.400300455, 339.748281075), (-54.968994107, 341.378986513))
        make_face(mode=Mode.SUBTRACT)
        with BuildLine():
            ThreePointArc((-150.180312259, 341.378986519), (-157.644047756, 340.468126237), (-164.560576866, 337.5187807))
            ThreePointArc((-164.560576866, 337.5187807), (-165.1017502, 335.321707323), (-162.904676824, 334.780533989))
            ThreePointArc((-162.904676824, 334.780533989), (-156.814418127, 337.377541393), (-150.242324046, 338.179587429))
            ThreePointArc((-150.242324046, 338.179587429), (-148.611618608, 339.748281081), (-150.180312259, 341.378986519))
        make_face(mode=Mode.SUBTRACT)
        with BuildLine():
            ThreePointArc((40.031005893, 341.378986513), (32.567270396, 340.468126231), (25.650741286, 337.518780694))
            ThreePointArc((25.650741286, 337.518780694), (25.109567952, 335.321707317), (27.306641329, 334.780533983))
            ThreePointArc((27.306641329, 334.780533983), (33.396900026, 337.377541387), (39.968994107, 338.179587423))
            ThreePointArc((39.968994107, 338.179587423), (41.599699545, 339.748281075), (40.031005893, 341.378986513))
        make_face(mode=Mode.SUBTRACT)
        with BuildLine():
            ThreePointArc((135.031005893, 341.378986513), (127.567270396, 340.468126231), (120.650741287, 337.518780694))
            ThreePointArc((120.650741287, 337.518780694), (120.109567952, 335.321707317), (122.306641329, 334.780533983))
            ThreePointArc((122.306641329, 334.780533983), (128.396900026, 337.377541387), (134.968994107, 338.179587423))
            ThreePointArc((134.968994107, 338.179587423), (136.599699545, 339.748281075), (135.031005893, 341.378986513))
        make_face(mode=Mode.SUBTRACT)
    extrude(amount=EXTRUDE_1_DEPTH)


solid = part.part
